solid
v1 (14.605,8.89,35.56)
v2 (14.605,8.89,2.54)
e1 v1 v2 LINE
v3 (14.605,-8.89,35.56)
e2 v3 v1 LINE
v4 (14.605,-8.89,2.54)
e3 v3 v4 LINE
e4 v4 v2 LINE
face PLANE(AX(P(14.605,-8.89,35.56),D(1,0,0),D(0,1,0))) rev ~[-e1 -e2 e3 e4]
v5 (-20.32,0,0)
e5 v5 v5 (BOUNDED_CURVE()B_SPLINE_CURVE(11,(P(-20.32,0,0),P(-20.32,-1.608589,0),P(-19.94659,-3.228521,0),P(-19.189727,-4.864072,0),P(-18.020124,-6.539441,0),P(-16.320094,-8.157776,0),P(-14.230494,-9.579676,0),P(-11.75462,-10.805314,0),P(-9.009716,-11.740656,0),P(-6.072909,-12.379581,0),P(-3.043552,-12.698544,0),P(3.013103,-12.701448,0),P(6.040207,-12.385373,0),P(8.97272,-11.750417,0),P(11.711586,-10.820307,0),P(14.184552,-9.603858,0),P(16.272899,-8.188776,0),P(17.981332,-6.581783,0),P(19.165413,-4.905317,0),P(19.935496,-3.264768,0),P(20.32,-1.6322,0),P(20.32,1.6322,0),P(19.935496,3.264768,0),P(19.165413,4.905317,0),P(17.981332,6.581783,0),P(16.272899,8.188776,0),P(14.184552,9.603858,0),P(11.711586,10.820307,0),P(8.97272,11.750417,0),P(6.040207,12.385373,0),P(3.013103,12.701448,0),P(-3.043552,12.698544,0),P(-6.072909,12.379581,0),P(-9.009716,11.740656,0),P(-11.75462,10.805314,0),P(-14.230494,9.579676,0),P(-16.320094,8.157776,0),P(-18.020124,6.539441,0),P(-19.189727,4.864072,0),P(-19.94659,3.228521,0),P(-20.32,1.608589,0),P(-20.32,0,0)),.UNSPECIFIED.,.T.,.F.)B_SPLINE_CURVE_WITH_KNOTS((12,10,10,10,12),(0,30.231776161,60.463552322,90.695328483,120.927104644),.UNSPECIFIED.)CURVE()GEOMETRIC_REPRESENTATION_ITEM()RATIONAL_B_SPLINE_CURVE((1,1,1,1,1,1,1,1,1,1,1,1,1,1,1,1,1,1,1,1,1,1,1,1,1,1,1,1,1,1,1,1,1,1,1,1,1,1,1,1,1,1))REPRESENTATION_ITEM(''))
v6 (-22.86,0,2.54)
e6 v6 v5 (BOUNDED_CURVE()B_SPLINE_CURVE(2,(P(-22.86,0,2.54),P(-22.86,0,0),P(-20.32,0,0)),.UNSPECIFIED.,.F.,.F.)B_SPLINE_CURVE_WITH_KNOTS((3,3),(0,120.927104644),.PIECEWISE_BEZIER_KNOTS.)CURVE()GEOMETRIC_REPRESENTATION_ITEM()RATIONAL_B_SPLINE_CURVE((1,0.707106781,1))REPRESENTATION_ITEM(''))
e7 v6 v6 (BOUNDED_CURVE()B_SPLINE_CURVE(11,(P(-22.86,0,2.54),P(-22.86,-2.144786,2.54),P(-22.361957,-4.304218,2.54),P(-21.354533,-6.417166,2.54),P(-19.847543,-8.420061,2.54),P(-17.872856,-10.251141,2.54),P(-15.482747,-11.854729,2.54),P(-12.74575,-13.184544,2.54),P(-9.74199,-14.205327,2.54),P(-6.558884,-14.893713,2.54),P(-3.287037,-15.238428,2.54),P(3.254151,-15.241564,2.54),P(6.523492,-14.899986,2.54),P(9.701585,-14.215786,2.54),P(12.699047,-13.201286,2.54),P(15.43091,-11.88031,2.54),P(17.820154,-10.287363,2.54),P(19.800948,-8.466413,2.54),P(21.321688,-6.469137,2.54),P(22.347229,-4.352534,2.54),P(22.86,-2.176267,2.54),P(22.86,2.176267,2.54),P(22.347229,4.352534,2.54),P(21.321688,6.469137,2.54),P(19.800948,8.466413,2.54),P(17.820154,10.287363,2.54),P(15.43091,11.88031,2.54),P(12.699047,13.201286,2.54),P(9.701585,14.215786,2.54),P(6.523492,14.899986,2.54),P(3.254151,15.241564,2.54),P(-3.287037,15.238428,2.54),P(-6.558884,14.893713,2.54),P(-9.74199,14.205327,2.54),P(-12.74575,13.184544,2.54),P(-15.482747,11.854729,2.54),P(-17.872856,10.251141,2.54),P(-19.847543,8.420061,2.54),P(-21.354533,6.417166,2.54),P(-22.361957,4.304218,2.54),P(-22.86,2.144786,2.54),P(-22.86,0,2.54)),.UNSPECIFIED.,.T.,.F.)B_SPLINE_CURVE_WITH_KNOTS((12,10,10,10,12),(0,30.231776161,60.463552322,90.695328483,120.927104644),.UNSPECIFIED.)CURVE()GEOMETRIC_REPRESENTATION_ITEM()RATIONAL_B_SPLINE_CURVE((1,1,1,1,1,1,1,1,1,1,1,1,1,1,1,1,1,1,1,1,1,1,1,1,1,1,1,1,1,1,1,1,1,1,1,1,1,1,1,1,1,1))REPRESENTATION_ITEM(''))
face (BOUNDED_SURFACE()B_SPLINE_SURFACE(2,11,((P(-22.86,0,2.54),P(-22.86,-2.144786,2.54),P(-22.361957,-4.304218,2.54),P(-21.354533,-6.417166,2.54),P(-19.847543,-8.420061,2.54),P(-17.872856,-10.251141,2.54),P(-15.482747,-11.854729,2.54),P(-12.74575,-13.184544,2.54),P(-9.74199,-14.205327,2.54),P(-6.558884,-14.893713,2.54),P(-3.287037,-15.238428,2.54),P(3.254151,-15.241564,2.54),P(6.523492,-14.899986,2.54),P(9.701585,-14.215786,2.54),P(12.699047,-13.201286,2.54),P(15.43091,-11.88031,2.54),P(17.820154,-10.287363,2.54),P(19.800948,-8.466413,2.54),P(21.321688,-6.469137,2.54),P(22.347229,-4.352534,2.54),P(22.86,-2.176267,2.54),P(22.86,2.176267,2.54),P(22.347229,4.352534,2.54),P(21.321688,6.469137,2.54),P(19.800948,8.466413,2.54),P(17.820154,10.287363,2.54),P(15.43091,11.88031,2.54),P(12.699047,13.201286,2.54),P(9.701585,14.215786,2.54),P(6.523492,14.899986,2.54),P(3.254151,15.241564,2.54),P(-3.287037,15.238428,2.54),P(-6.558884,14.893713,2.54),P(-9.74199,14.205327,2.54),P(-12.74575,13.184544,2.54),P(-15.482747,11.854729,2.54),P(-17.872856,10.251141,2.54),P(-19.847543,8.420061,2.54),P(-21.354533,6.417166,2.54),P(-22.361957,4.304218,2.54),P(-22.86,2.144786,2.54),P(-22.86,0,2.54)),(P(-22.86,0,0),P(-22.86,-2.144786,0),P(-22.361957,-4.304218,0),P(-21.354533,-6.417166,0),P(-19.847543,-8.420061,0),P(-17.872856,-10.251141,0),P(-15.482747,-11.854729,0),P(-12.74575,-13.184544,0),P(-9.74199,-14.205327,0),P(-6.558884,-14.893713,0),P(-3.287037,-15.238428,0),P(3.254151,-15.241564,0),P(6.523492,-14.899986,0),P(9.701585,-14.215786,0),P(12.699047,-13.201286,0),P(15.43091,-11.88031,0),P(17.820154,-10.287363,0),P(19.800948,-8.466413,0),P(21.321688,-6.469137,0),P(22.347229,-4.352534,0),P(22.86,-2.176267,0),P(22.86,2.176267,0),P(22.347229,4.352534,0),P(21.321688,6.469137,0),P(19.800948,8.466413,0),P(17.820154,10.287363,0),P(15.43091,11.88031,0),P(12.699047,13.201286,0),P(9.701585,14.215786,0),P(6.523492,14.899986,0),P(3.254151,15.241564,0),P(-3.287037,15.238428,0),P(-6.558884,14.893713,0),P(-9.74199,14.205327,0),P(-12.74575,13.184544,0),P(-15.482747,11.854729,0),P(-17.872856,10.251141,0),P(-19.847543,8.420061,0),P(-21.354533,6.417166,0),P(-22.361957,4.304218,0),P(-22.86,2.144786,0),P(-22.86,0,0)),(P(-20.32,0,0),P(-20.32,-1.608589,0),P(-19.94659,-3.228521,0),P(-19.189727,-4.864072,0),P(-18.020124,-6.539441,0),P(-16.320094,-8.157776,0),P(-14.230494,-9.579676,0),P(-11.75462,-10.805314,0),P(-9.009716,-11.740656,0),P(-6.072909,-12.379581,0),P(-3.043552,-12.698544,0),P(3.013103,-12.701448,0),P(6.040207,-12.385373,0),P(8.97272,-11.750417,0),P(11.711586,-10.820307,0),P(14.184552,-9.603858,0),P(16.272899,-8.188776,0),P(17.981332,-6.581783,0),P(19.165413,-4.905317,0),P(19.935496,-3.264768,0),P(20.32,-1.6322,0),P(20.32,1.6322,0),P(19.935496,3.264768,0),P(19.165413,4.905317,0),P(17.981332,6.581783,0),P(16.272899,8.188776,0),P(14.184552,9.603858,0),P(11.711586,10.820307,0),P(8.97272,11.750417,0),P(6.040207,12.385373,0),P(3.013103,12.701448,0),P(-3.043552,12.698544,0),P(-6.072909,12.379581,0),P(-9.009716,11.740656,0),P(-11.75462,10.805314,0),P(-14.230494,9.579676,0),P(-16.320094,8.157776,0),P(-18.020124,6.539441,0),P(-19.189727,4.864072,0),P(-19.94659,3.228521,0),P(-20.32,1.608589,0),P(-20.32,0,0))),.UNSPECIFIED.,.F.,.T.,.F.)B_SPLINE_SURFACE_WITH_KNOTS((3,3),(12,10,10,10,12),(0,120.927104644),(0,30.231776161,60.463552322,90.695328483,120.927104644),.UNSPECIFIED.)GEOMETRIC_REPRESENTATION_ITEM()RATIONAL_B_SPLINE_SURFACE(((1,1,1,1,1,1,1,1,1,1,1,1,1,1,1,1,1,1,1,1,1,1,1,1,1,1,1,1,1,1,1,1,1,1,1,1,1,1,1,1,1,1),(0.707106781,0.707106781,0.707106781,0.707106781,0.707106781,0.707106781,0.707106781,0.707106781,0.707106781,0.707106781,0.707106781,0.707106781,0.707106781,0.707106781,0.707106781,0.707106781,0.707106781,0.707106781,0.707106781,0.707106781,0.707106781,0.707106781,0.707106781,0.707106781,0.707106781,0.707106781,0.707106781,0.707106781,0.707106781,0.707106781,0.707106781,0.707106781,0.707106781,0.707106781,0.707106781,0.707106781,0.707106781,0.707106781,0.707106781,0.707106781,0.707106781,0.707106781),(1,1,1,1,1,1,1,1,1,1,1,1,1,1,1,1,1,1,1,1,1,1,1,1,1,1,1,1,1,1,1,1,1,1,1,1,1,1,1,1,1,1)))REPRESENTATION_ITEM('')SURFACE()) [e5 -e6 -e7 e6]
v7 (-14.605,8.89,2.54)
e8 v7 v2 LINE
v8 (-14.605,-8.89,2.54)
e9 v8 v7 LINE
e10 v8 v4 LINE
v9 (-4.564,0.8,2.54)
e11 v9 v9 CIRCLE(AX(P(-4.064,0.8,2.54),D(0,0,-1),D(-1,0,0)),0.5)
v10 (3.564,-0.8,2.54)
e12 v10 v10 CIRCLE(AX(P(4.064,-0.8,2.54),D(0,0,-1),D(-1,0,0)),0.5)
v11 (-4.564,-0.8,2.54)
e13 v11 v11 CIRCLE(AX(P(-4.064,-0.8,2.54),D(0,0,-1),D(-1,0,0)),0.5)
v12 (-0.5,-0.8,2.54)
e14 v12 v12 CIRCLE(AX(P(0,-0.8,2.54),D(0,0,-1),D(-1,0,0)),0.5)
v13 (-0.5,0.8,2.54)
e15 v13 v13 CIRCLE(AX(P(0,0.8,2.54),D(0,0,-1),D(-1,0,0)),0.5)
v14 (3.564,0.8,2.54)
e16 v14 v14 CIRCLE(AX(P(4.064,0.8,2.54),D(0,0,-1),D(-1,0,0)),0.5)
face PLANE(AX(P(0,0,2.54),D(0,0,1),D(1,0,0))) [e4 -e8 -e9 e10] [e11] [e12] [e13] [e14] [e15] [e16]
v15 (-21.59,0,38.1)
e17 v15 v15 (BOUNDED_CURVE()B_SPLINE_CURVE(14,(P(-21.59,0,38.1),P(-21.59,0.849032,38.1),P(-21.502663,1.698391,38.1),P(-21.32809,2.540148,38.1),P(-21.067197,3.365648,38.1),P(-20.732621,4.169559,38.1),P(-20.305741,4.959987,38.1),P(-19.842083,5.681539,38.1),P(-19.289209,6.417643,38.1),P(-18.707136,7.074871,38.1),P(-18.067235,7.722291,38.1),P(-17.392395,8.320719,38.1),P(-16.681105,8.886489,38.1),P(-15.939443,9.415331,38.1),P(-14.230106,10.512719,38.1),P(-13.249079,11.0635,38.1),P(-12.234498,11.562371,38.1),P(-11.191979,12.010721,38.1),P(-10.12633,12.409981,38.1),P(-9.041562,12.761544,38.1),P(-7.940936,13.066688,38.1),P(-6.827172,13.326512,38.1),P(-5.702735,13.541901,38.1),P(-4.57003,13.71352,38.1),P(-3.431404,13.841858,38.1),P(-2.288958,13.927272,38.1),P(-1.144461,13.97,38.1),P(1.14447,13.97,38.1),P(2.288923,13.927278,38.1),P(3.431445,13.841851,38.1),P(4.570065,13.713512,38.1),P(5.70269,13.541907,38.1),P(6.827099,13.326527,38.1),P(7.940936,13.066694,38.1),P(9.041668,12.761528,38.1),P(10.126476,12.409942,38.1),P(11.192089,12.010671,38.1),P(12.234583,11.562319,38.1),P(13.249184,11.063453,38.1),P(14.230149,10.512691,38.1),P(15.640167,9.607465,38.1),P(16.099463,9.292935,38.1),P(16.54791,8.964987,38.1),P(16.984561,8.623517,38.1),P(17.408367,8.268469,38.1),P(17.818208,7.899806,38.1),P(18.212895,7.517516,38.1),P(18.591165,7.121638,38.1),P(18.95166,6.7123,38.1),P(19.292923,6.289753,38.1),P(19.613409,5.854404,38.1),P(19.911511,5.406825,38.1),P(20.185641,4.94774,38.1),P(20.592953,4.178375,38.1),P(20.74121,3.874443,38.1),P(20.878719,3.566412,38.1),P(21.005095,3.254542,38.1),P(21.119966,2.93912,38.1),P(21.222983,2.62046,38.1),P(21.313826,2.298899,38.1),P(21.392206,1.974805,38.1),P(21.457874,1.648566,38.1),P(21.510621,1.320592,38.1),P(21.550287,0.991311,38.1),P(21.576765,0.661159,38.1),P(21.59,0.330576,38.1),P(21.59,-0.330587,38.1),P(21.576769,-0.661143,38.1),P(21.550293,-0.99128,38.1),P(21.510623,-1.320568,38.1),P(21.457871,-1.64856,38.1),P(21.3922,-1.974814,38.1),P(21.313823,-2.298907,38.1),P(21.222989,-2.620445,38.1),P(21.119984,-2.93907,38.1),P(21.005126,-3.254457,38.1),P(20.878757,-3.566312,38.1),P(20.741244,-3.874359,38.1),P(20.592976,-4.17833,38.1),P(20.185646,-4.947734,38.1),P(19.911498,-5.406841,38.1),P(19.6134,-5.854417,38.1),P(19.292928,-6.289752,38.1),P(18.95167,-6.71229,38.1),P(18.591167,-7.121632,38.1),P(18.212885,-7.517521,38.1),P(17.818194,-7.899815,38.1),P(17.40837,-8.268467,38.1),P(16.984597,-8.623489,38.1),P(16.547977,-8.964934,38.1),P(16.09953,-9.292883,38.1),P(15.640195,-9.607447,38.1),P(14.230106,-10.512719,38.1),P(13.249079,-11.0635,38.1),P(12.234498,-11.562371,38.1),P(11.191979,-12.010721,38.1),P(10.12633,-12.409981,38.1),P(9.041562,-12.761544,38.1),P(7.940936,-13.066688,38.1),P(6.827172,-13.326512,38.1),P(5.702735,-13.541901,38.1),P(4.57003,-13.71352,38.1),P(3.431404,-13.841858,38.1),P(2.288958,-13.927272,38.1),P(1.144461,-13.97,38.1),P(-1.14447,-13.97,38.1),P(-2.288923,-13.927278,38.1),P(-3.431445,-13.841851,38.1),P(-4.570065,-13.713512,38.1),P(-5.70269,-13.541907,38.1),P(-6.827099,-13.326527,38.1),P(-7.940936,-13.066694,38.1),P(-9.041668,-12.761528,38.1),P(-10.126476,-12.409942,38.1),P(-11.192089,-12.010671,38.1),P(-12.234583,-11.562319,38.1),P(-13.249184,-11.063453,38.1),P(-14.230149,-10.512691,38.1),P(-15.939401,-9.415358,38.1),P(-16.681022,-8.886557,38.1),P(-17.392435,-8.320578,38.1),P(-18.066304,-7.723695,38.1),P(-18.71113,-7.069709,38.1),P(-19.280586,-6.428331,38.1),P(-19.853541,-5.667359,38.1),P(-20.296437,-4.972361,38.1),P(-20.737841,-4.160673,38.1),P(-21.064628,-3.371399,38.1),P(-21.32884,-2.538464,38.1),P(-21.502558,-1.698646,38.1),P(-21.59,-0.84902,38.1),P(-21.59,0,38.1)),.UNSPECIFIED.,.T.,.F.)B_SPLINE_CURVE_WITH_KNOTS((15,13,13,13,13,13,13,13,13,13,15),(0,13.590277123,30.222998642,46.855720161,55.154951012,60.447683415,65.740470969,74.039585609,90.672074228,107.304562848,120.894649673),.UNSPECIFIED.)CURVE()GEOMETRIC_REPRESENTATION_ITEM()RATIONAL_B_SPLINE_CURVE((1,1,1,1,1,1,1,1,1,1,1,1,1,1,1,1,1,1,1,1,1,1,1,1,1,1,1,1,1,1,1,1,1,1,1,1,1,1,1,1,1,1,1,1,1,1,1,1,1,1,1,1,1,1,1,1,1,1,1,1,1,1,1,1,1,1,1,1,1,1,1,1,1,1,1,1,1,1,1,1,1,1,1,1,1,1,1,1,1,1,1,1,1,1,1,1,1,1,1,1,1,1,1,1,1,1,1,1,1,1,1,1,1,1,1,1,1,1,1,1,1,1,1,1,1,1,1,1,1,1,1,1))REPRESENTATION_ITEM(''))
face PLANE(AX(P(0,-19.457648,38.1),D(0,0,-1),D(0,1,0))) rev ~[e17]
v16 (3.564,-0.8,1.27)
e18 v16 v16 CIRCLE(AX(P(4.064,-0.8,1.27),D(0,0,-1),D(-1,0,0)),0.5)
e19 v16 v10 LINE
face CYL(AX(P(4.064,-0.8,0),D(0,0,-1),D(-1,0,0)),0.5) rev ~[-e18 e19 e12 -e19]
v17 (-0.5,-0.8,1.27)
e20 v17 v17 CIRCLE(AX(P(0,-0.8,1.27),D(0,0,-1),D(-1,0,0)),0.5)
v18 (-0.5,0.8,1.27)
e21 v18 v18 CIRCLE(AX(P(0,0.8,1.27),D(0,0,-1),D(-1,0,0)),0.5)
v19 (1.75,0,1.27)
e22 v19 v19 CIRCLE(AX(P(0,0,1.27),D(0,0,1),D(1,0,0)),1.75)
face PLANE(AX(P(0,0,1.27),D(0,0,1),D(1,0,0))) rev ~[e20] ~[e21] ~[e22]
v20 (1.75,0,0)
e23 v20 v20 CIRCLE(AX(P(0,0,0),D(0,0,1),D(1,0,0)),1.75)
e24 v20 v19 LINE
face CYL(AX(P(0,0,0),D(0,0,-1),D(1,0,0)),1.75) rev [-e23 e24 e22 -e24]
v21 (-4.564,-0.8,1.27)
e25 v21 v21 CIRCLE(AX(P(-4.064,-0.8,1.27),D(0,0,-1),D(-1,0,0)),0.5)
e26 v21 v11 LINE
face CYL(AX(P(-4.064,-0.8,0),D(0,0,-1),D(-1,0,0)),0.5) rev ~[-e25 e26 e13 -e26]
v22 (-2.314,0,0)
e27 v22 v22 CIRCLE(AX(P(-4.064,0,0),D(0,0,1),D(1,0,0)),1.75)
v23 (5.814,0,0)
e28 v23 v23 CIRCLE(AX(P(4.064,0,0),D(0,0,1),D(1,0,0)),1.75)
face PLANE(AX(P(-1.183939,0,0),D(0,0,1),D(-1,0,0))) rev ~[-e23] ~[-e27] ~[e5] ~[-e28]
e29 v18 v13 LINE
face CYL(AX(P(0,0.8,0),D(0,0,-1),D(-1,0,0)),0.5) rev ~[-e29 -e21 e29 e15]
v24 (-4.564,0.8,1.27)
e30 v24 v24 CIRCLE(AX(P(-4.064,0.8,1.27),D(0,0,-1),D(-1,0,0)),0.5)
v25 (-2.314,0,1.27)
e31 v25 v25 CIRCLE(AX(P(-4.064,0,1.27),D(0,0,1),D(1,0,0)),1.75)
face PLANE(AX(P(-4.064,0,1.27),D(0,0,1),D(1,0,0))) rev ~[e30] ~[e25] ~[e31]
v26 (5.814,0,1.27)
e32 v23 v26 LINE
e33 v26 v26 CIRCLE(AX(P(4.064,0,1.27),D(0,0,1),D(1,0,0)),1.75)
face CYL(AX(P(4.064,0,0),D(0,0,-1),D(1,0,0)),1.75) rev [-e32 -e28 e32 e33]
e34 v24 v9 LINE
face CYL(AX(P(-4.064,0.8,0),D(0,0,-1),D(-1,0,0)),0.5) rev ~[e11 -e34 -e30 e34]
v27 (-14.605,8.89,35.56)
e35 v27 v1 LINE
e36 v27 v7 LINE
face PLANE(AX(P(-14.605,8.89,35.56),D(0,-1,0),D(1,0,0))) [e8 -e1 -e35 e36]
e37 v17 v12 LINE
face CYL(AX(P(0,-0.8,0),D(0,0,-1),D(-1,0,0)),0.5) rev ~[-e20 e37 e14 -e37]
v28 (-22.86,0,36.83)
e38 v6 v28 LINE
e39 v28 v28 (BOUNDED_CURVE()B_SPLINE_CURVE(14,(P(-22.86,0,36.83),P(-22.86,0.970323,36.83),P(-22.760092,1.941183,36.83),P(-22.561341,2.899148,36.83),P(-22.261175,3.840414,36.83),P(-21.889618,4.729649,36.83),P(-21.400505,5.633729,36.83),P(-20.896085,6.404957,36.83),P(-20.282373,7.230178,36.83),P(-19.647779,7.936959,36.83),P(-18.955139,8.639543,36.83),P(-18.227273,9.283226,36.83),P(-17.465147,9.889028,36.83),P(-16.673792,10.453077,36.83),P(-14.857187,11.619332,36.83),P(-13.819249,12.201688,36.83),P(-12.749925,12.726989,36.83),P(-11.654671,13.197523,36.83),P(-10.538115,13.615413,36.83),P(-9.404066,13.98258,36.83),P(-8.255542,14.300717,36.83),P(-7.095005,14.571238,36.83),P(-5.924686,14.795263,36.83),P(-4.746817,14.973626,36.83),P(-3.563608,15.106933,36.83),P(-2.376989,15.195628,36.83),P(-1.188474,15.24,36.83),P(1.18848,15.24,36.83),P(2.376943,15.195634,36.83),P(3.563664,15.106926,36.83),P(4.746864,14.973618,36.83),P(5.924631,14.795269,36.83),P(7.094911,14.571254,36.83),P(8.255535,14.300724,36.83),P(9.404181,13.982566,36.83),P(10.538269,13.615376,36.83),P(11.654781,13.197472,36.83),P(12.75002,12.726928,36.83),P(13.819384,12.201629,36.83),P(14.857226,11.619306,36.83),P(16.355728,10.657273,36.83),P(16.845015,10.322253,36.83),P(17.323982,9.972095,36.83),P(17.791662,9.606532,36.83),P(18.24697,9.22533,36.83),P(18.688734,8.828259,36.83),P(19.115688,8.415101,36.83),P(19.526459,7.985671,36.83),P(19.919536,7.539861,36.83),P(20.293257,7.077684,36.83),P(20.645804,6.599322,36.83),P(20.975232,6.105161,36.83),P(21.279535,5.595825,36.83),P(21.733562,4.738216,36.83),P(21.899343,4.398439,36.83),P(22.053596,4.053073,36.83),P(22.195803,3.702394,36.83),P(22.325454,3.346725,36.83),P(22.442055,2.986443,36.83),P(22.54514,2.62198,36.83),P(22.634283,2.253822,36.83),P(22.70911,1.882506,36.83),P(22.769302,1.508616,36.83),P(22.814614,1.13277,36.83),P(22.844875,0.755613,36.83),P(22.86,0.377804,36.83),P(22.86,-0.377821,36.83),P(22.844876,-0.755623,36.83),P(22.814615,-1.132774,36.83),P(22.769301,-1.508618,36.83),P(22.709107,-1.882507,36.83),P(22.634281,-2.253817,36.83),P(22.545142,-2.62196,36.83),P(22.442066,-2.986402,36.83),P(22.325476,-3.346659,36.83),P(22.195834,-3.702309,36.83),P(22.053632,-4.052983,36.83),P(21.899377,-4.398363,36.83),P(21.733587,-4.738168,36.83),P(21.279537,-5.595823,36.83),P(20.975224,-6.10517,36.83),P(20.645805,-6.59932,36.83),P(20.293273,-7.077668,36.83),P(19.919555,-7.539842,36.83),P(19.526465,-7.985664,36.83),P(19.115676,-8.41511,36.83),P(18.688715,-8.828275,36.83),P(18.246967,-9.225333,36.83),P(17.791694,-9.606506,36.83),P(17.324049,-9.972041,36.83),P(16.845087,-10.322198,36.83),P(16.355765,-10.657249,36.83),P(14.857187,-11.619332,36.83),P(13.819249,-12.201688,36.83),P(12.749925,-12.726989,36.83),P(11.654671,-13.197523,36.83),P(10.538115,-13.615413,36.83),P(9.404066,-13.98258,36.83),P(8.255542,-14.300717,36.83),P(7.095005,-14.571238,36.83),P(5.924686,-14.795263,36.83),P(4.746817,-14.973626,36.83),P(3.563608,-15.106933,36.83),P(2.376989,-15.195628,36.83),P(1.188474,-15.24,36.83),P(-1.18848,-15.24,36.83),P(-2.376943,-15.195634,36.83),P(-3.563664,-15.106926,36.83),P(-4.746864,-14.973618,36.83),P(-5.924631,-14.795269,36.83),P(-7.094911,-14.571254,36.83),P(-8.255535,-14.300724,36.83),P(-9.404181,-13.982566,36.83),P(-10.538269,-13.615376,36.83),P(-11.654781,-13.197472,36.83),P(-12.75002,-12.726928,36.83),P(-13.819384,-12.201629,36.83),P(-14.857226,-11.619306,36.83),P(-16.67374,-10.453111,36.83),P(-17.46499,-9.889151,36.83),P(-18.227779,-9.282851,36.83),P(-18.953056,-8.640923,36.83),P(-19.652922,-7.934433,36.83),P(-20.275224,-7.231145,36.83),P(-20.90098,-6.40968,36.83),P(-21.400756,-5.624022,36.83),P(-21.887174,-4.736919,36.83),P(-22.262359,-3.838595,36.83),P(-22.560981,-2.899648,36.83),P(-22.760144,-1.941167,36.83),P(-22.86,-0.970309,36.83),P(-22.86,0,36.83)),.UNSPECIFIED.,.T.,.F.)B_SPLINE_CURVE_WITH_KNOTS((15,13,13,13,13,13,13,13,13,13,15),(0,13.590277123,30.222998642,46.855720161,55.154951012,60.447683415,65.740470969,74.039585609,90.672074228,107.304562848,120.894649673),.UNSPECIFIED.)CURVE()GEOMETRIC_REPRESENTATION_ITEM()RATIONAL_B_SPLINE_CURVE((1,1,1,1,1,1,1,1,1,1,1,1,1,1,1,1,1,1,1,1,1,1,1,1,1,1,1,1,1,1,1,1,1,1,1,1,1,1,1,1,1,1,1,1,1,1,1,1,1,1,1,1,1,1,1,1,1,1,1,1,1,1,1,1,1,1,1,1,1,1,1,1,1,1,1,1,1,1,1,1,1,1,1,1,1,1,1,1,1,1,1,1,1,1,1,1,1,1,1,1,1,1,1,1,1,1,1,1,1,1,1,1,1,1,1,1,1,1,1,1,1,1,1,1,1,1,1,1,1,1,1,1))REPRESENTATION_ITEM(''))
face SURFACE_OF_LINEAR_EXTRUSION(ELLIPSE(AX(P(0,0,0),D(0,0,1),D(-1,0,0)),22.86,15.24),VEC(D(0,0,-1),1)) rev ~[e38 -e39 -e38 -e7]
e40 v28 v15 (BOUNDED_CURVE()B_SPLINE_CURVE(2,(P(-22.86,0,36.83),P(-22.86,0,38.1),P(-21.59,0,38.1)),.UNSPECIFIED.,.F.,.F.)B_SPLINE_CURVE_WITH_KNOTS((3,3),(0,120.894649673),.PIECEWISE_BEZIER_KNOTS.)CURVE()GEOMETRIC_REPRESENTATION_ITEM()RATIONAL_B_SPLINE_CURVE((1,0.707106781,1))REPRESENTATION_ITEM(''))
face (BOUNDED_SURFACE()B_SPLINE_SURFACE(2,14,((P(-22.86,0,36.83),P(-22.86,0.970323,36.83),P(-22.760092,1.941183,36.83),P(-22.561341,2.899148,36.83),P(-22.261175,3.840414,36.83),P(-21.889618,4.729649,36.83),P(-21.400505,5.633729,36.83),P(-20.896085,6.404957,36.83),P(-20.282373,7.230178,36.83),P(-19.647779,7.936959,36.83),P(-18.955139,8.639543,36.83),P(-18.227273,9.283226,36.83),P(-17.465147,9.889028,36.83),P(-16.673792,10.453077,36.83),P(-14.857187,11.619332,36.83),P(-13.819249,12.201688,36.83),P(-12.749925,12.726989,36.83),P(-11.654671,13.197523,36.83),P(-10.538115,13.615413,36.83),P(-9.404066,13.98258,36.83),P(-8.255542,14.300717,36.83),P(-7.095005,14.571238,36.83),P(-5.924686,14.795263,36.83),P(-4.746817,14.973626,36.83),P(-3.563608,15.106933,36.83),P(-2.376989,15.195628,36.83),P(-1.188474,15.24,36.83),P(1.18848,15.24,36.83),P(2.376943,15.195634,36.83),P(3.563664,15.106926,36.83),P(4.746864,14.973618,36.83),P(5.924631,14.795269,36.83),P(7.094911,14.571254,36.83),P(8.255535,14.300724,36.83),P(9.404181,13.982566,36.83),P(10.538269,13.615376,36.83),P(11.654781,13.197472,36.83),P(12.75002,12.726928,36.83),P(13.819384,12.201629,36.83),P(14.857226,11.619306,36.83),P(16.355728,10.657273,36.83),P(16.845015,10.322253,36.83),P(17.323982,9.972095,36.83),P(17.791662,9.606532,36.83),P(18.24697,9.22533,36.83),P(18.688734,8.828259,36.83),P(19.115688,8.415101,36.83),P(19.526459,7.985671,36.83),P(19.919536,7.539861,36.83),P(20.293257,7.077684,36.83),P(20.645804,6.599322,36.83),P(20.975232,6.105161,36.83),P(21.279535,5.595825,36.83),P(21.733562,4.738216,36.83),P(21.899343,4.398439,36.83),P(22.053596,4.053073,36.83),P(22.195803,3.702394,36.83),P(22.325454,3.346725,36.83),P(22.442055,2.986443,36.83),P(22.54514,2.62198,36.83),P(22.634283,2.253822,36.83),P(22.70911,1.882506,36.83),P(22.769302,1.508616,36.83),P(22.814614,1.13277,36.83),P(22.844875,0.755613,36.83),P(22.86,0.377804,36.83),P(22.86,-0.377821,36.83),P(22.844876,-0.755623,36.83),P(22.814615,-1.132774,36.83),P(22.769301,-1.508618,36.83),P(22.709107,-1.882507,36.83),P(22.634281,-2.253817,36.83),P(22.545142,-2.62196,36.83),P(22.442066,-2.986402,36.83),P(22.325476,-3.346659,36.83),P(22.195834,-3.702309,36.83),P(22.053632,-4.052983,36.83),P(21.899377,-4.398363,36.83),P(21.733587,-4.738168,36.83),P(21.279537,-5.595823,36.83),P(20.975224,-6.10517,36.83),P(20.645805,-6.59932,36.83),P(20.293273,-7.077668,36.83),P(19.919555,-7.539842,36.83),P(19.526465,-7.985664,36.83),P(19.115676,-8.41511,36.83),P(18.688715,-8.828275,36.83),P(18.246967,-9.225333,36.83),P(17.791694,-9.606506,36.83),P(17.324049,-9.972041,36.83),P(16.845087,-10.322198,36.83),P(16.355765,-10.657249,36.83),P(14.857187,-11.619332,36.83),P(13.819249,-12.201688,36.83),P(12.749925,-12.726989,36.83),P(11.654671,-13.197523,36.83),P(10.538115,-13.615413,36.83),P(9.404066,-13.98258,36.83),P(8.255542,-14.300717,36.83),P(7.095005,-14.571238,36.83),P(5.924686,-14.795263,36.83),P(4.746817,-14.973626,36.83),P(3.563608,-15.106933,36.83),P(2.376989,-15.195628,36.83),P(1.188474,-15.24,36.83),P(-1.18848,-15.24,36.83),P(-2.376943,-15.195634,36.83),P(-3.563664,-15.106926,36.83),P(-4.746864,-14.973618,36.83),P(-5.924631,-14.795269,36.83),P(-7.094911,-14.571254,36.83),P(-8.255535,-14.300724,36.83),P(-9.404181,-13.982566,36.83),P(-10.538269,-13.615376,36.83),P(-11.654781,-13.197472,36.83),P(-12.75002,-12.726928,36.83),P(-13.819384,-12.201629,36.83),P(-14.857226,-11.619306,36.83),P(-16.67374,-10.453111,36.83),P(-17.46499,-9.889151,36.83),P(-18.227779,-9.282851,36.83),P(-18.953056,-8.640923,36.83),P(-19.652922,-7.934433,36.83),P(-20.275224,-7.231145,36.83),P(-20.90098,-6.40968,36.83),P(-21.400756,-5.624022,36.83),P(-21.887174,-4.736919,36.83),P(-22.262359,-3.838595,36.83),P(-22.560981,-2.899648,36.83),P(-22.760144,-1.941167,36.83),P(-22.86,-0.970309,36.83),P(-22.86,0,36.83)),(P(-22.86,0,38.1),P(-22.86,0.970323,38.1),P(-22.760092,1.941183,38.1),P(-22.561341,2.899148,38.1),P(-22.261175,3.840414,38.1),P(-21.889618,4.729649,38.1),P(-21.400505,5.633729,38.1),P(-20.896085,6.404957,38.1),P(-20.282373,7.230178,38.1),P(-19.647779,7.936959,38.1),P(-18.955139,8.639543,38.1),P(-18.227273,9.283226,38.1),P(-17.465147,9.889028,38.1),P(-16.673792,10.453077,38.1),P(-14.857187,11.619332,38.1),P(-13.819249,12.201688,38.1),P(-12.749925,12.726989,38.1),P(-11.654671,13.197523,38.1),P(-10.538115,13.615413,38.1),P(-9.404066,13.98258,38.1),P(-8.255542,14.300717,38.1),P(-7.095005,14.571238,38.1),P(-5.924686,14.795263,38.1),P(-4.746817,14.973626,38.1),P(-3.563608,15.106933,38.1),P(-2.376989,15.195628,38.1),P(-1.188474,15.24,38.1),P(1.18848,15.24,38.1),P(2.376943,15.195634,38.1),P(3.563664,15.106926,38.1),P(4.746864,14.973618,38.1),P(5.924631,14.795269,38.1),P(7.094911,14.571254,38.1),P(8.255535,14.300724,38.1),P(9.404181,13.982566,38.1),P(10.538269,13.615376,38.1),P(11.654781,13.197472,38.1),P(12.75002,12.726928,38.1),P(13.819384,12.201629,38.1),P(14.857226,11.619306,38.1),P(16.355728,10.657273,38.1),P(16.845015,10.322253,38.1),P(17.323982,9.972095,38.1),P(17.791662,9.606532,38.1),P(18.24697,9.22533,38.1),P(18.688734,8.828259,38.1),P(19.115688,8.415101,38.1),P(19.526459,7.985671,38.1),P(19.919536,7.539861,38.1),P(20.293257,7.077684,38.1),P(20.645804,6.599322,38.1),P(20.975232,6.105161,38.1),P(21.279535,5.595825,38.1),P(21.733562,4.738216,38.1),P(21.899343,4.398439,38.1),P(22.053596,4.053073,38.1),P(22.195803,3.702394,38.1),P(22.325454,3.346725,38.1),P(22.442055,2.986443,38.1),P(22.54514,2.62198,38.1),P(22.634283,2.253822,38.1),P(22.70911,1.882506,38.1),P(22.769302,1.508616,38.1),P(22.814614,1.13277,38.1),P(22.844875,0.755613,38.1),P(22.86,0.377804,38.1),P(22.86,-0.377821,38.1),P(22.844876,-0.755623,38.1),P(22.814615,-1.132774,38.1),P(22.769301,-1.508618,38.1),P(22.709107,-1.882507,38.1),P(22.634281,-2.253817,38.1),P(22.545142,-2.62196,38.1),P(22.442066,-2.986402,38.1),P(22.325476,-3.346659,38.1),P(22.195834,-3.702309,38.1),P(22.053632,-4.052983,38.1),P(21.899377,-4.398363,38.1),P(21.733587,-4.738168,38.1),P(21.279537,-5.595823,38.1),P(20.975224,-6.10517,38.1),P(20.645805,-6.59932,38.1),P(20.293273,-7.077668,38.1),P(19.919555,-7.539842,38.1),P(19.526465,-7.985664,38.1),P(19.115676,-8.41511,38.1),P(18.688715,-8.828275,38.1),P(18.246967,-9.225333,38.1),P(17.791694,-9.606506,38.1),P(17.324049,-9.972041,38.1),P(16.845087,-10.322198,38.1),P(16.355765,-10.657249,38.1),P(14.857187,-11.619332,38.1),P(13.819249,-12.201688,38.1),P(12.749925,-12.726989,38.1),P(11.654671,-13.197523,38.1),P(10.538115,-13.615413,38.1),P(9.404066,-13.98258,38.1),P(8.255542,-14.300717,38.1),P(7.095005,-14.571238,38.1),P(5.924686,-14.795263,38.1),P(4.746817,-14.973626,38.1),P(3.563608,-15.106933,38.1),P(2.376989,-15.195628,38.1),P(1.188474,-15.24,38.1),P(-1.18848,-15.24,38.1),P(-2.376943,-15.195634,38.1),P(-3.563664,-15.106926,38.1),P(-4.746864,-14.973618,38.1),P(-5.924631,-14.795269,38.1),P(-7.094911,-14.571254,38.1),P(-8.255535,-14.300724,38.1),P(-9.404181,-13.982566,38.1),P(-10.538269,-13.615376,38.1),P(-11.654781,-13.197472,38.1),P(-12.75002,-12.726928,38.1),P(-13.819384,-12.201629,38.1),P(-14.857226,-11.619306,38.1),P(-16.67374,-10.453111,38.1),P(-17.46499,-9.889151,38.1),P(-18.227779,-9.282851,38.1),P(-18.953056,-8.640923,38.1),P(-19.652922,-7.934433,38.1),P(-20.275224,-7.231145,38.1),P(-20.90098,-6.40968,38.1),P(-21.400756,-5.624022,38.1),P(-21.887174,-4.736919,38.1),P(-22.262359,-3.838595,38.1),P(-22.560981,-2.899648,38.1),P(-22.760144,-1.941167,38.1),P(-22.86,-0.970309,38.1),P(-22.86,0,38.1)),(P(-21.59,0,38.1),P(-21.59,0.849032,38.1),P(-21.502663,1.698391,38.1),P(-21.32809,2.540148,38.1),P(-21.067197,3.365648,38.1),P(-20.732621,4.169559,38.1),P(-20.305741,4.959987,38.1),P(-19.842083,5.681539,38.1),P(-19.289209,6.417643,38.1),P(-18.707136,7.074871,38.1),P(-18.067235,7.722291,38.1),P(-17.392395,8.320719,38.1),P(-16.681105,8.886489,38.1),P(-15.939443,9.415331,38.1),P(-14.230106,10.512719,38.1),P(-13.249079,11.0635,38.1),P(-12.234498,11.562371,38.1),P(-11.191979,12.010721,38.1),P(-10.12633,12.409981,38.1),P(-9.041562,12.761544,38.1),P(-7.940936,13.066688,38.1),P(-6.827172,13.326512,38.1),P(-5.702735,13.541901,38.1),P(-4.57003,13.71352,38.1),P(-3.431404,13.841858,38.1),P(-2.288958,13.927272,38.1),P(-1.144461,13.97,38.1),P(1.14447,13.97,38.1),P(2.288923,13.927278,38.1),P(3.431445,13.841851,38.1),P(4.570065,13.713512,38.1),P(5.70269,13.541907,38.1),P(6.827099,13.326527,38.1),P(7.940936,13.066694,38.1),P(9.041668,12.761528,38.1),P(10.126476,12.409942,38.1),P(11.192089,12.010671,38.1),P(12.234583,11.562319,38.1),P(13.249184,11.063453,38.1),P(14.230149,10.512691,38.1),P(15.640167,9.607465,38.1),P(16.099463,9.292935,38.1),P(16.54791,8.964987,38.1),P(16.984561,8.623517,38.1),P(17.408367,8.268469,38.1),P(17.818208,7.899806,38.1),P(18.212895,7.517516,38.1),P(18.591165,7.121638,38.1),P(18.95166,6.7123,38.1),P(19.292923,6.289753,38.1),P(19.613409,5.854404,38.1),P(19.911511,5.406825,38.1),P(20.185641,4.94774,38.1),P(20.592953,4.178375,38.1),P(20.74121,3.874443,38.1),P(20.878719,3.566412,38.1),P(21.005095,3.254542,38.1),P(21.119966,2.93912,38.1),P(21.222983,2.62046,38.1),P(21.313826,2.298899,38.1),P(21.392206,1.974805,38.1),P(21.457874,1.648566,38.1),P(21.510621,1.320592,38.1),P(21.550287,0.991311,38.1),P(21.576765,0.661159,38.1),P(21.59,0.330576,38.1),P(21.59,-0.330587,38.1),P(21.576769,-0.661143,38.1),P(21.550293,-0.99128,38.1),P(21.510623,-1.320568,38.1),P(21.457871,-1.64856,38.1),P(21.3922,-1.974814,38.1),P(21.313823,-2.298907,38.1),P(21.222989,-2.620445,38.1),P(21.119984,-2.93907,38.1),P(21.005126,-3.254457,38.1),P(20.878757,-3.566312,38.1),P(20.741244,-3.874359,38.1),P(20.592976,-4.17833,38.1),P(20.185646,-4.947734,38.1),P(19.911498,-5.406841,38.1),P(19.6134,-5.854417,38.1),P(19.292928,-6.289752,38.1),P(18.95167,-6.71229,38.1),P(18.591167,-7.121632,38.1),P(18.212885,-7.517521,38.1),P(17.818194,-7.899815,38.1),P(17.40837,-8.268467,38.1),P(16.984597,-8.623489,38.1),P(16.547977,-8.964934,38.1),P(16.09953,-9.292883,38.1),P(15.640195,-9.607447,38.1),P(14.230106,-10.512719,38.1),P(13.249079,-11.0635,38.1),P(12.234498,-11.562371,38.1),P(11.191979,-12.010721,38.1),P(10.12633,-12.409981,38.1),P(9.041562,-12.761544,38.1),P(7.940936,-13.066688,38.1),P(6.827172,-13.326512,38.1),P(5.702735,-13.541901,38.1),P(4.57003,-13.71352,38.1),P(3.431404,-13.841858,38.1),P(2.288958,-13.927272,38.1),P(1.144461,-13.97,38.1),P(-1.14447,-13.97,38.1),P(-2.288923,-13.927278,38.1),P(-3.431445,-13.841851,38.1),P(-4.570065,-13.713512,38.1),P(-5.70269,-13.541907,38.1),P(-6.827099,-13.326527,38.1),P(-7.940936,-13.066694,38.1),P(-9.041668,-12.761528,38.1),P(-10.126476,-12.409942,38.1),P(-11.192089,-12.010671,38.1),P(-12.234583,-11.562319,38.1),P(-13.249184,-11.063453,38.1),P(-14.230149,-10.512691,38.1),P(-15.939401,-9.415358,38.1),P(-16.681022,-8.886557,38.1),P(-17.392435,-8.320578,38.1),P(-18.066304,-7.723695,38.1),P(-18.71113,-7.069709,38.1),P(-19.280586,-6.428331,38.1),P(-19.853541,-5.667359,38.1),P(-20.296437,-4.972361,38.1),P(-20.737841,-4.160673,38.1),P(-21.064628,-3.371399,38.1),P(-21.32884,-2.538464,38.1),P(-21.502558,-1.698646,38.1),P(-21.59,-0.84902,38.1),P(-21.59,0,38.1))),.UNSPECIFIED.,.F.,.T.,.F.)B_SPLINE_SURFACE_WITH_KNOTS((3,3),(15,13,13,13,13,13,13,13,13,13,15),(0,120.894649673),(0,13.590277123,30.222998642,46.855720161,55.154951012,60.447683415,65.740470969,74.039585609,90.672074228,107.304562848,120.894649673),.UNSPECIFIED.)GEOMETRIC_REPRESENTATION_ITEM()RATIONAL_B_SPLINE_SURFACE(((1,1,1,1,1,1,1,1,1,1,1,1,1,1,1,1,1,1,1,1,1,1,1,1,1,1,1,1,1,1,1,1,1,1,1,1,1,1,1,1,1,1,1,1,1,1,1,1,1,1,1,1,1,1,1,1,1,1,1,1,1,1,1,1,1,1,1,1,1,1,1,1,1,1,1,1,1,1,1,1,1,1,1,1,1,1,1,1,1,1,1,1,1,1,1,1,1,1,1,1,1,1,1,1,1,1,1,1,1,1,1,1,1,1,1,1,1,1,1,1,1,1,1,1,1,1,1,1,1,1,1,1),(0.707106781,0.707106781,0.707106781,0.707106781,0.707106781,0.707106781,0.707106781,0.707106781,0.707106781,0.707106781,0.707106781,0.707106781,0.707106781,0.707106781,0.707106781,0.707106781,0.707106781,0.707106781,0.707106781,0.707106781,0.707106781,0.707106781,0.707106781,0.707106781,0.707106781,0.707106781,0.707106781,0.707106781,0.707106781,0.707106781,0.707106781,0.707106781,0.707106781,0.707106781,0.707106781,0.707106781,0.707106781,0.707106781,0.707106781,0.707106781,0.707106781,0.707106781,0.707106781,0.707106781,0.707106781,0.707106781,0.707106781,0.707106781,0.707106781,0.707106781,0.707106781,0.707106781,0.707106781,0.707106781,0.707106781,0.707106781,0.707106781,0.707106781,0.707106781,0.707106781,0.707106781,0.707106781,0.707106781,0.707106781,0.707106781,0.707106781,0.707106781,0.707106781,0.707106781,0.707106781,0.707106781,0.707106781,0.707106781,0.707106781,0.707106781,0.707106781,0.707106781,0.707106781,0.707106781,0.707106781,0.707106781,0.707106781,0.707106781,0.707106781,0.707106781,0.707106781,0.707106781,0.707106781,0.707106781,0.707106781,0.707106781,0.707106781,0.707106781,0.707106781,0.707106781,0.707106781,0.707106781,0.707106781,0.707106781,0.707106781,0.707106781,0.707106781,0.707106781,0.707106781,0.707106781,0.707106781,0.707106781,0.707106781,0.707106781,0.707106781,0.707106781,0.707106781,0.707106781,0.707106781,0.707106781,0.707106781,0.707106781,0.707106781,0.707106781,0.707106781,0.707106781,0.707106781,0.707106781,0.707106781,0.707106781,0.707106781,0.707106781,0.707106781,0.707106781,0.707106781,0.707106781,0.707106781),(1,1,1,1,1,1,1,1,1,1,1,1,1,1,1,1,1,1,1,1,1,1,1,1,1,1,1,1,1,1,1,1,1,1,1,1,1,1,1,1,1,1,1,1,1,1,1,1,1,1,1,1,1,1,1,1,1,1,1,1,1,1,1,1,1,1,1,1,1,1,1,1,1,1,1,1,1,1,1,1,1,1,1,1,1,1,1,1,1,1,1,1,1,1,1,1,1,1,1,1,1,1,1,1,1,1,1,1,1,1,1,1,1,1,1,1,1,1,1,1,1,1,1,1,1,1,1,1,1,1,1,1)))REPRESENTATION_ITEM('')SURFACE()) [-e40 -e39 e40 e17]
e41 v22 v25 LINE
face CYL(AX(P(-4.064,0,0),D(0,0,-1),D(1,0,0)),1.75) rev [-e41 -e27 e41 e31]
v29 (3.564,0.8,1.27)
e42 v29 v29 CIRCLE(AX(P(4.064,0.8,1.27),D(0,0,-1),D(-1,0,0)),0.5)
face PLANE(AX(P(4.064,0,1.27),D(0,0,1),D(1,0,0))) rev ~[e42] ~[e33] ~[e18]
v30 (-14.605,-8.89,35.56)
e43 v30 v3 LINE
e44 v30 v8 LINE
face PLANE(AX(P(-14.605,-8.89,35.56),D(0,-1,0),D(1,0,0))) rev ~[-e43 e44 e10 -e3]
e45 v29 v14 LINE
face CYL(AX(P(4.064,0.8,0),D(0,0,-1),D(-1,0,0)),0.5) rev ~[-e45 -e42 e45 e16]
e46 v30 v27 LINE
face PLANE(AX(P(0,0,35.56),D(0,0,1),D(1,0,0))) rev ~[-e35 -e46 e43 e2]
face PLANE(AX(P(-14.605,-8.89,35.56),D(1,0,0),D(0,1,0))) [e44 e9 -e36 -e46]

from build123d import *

# Parameters (mm, degrees)
SKETCH1_RX              = 22.86
SKETCH1_RY              = 15.24
BOSS_EXTRUDE4_DEPTH     = 45.72
CUT_EXTRUDE2_START      = -10.16
SKETCH4_W               = 29.21
SKETCH4_H               = 17.78
CUT_EXTRUDE2_DEPTH      = 33.02
SKETCH7_W               = 14.643913221
SKETCH7_H               = 35.56
CUT_EXTRUDE4_DEPTH      = 33.02
CUT_EXTRUDE4_DEPTH_BACK = 33.02
SKETCH8_R               = 1.75
CUT_EXTRUDE5_DEPTH      = 1.27
SKETCH9_R               = 0.5
CUT_EXTRUDE7_DEPTH      = 2.794
FILLET1_R               = 2.54
FILLET2_R               = 1.27


with BuildPart() as part:
    # Sketch1 → Boss-Extrude4 (new body)
    with BuildSketch(Plane.XY):
        with Locations(Location((0, 0), (0, 0, 180))):
            Ellipse(SKETCH1_RX, SKETCH1_RY)
    extrude(amount=BOSS_EXTRUDE4_DEPTH)

    # Sketch4 → Cut-Extrude2 (cut)
    with BuildSketch(Plane.XY.offset(45.72).offset(CUT_EXTRUDE2_START)):
        Rectangle(SKETCH4_W, SKETCH4_H)
    extrude(amount=-CUT_EXTRUDE2_DEPTH, mode=Mode.SUBTRACT)

    # Sketch7 → Cut-Extrude4 (cut, two sides)
    with BuildSketch(Plane(origin=(0, 0, 0), x_dir=(0, 0, -1), z_dir=(1, 0, 0))) as cut_extrude4_sk:
        with Locations((-45.421956611, -1.677648267)):
            Rectangle(SKETCH7_W, SKETCH7_H)
    extrude(amount=CUT_EXTRUDE4_DEPTH, mode=Mode.SUBTRACT)
    extrude(cut_extrude4_sk.sketch, amount=-CUT_EXTRUDE4_DEPTH_BACK, mode=Mode.SUBTRACT)

    # Sketch8 → Cut-Extrude5 (cut)
    with BuildSketch(Plane.XY):
        Circle(SKETCH8_R)
        with Locations((4.064, 0)):
            Circle(SKETCH8_R)
        with Locations((-4.064, 0)):
            Circle(SKETCH8_R)
    extrude(amount=CUT_EXTRUDE5_DEPTH, mode=Mode.SUBTRACT)

    # Sketch9 → Cut-Extrude7 (cut)
    with BuildSketch(Plane(origin=(0, 0, 0), x_dir=(-1, 0, 0), z_dir=(0, 0, -1))):
        with Locations((0, 0.8)):
            Circle(SKETCH9_R)
        with Locations((0, -0.8)):
            Circle(SKETCH9_R)
        with Locations((-4.064, 0.8)):
            Circle(SKETCH9_R)
        with Locations((-4.064, -0.8)):
            Circle(SKETCH9_R)
        with Locations((4.064, 0.8)):
            Circle(SKETCH9_R)
        with Locations((4.064, -0.8)):
            Circle(SKETCH9_R)
    extrude(amount=-CUT_EXTRUDE7_DEPTH, mode=Mode.SUBTRACT)

    # Fillet1
    fillet1_edges = [part.edges().sort_by_distance(p)[0] for p in [
        (22.859987041, 0.016227247, 0),
    ]]
    fillet(fillet1_edges, radius=FILLET1_R)

    # Fillet2
    fillet2_edges = [part.edges().sort_by_distance(p)[0] for p in [
        (22.860000074, 1.7e-08, 38.1),
    ]]
    fillet(fillet2_edges, radius=FILLET2_R)


solid = part.part
